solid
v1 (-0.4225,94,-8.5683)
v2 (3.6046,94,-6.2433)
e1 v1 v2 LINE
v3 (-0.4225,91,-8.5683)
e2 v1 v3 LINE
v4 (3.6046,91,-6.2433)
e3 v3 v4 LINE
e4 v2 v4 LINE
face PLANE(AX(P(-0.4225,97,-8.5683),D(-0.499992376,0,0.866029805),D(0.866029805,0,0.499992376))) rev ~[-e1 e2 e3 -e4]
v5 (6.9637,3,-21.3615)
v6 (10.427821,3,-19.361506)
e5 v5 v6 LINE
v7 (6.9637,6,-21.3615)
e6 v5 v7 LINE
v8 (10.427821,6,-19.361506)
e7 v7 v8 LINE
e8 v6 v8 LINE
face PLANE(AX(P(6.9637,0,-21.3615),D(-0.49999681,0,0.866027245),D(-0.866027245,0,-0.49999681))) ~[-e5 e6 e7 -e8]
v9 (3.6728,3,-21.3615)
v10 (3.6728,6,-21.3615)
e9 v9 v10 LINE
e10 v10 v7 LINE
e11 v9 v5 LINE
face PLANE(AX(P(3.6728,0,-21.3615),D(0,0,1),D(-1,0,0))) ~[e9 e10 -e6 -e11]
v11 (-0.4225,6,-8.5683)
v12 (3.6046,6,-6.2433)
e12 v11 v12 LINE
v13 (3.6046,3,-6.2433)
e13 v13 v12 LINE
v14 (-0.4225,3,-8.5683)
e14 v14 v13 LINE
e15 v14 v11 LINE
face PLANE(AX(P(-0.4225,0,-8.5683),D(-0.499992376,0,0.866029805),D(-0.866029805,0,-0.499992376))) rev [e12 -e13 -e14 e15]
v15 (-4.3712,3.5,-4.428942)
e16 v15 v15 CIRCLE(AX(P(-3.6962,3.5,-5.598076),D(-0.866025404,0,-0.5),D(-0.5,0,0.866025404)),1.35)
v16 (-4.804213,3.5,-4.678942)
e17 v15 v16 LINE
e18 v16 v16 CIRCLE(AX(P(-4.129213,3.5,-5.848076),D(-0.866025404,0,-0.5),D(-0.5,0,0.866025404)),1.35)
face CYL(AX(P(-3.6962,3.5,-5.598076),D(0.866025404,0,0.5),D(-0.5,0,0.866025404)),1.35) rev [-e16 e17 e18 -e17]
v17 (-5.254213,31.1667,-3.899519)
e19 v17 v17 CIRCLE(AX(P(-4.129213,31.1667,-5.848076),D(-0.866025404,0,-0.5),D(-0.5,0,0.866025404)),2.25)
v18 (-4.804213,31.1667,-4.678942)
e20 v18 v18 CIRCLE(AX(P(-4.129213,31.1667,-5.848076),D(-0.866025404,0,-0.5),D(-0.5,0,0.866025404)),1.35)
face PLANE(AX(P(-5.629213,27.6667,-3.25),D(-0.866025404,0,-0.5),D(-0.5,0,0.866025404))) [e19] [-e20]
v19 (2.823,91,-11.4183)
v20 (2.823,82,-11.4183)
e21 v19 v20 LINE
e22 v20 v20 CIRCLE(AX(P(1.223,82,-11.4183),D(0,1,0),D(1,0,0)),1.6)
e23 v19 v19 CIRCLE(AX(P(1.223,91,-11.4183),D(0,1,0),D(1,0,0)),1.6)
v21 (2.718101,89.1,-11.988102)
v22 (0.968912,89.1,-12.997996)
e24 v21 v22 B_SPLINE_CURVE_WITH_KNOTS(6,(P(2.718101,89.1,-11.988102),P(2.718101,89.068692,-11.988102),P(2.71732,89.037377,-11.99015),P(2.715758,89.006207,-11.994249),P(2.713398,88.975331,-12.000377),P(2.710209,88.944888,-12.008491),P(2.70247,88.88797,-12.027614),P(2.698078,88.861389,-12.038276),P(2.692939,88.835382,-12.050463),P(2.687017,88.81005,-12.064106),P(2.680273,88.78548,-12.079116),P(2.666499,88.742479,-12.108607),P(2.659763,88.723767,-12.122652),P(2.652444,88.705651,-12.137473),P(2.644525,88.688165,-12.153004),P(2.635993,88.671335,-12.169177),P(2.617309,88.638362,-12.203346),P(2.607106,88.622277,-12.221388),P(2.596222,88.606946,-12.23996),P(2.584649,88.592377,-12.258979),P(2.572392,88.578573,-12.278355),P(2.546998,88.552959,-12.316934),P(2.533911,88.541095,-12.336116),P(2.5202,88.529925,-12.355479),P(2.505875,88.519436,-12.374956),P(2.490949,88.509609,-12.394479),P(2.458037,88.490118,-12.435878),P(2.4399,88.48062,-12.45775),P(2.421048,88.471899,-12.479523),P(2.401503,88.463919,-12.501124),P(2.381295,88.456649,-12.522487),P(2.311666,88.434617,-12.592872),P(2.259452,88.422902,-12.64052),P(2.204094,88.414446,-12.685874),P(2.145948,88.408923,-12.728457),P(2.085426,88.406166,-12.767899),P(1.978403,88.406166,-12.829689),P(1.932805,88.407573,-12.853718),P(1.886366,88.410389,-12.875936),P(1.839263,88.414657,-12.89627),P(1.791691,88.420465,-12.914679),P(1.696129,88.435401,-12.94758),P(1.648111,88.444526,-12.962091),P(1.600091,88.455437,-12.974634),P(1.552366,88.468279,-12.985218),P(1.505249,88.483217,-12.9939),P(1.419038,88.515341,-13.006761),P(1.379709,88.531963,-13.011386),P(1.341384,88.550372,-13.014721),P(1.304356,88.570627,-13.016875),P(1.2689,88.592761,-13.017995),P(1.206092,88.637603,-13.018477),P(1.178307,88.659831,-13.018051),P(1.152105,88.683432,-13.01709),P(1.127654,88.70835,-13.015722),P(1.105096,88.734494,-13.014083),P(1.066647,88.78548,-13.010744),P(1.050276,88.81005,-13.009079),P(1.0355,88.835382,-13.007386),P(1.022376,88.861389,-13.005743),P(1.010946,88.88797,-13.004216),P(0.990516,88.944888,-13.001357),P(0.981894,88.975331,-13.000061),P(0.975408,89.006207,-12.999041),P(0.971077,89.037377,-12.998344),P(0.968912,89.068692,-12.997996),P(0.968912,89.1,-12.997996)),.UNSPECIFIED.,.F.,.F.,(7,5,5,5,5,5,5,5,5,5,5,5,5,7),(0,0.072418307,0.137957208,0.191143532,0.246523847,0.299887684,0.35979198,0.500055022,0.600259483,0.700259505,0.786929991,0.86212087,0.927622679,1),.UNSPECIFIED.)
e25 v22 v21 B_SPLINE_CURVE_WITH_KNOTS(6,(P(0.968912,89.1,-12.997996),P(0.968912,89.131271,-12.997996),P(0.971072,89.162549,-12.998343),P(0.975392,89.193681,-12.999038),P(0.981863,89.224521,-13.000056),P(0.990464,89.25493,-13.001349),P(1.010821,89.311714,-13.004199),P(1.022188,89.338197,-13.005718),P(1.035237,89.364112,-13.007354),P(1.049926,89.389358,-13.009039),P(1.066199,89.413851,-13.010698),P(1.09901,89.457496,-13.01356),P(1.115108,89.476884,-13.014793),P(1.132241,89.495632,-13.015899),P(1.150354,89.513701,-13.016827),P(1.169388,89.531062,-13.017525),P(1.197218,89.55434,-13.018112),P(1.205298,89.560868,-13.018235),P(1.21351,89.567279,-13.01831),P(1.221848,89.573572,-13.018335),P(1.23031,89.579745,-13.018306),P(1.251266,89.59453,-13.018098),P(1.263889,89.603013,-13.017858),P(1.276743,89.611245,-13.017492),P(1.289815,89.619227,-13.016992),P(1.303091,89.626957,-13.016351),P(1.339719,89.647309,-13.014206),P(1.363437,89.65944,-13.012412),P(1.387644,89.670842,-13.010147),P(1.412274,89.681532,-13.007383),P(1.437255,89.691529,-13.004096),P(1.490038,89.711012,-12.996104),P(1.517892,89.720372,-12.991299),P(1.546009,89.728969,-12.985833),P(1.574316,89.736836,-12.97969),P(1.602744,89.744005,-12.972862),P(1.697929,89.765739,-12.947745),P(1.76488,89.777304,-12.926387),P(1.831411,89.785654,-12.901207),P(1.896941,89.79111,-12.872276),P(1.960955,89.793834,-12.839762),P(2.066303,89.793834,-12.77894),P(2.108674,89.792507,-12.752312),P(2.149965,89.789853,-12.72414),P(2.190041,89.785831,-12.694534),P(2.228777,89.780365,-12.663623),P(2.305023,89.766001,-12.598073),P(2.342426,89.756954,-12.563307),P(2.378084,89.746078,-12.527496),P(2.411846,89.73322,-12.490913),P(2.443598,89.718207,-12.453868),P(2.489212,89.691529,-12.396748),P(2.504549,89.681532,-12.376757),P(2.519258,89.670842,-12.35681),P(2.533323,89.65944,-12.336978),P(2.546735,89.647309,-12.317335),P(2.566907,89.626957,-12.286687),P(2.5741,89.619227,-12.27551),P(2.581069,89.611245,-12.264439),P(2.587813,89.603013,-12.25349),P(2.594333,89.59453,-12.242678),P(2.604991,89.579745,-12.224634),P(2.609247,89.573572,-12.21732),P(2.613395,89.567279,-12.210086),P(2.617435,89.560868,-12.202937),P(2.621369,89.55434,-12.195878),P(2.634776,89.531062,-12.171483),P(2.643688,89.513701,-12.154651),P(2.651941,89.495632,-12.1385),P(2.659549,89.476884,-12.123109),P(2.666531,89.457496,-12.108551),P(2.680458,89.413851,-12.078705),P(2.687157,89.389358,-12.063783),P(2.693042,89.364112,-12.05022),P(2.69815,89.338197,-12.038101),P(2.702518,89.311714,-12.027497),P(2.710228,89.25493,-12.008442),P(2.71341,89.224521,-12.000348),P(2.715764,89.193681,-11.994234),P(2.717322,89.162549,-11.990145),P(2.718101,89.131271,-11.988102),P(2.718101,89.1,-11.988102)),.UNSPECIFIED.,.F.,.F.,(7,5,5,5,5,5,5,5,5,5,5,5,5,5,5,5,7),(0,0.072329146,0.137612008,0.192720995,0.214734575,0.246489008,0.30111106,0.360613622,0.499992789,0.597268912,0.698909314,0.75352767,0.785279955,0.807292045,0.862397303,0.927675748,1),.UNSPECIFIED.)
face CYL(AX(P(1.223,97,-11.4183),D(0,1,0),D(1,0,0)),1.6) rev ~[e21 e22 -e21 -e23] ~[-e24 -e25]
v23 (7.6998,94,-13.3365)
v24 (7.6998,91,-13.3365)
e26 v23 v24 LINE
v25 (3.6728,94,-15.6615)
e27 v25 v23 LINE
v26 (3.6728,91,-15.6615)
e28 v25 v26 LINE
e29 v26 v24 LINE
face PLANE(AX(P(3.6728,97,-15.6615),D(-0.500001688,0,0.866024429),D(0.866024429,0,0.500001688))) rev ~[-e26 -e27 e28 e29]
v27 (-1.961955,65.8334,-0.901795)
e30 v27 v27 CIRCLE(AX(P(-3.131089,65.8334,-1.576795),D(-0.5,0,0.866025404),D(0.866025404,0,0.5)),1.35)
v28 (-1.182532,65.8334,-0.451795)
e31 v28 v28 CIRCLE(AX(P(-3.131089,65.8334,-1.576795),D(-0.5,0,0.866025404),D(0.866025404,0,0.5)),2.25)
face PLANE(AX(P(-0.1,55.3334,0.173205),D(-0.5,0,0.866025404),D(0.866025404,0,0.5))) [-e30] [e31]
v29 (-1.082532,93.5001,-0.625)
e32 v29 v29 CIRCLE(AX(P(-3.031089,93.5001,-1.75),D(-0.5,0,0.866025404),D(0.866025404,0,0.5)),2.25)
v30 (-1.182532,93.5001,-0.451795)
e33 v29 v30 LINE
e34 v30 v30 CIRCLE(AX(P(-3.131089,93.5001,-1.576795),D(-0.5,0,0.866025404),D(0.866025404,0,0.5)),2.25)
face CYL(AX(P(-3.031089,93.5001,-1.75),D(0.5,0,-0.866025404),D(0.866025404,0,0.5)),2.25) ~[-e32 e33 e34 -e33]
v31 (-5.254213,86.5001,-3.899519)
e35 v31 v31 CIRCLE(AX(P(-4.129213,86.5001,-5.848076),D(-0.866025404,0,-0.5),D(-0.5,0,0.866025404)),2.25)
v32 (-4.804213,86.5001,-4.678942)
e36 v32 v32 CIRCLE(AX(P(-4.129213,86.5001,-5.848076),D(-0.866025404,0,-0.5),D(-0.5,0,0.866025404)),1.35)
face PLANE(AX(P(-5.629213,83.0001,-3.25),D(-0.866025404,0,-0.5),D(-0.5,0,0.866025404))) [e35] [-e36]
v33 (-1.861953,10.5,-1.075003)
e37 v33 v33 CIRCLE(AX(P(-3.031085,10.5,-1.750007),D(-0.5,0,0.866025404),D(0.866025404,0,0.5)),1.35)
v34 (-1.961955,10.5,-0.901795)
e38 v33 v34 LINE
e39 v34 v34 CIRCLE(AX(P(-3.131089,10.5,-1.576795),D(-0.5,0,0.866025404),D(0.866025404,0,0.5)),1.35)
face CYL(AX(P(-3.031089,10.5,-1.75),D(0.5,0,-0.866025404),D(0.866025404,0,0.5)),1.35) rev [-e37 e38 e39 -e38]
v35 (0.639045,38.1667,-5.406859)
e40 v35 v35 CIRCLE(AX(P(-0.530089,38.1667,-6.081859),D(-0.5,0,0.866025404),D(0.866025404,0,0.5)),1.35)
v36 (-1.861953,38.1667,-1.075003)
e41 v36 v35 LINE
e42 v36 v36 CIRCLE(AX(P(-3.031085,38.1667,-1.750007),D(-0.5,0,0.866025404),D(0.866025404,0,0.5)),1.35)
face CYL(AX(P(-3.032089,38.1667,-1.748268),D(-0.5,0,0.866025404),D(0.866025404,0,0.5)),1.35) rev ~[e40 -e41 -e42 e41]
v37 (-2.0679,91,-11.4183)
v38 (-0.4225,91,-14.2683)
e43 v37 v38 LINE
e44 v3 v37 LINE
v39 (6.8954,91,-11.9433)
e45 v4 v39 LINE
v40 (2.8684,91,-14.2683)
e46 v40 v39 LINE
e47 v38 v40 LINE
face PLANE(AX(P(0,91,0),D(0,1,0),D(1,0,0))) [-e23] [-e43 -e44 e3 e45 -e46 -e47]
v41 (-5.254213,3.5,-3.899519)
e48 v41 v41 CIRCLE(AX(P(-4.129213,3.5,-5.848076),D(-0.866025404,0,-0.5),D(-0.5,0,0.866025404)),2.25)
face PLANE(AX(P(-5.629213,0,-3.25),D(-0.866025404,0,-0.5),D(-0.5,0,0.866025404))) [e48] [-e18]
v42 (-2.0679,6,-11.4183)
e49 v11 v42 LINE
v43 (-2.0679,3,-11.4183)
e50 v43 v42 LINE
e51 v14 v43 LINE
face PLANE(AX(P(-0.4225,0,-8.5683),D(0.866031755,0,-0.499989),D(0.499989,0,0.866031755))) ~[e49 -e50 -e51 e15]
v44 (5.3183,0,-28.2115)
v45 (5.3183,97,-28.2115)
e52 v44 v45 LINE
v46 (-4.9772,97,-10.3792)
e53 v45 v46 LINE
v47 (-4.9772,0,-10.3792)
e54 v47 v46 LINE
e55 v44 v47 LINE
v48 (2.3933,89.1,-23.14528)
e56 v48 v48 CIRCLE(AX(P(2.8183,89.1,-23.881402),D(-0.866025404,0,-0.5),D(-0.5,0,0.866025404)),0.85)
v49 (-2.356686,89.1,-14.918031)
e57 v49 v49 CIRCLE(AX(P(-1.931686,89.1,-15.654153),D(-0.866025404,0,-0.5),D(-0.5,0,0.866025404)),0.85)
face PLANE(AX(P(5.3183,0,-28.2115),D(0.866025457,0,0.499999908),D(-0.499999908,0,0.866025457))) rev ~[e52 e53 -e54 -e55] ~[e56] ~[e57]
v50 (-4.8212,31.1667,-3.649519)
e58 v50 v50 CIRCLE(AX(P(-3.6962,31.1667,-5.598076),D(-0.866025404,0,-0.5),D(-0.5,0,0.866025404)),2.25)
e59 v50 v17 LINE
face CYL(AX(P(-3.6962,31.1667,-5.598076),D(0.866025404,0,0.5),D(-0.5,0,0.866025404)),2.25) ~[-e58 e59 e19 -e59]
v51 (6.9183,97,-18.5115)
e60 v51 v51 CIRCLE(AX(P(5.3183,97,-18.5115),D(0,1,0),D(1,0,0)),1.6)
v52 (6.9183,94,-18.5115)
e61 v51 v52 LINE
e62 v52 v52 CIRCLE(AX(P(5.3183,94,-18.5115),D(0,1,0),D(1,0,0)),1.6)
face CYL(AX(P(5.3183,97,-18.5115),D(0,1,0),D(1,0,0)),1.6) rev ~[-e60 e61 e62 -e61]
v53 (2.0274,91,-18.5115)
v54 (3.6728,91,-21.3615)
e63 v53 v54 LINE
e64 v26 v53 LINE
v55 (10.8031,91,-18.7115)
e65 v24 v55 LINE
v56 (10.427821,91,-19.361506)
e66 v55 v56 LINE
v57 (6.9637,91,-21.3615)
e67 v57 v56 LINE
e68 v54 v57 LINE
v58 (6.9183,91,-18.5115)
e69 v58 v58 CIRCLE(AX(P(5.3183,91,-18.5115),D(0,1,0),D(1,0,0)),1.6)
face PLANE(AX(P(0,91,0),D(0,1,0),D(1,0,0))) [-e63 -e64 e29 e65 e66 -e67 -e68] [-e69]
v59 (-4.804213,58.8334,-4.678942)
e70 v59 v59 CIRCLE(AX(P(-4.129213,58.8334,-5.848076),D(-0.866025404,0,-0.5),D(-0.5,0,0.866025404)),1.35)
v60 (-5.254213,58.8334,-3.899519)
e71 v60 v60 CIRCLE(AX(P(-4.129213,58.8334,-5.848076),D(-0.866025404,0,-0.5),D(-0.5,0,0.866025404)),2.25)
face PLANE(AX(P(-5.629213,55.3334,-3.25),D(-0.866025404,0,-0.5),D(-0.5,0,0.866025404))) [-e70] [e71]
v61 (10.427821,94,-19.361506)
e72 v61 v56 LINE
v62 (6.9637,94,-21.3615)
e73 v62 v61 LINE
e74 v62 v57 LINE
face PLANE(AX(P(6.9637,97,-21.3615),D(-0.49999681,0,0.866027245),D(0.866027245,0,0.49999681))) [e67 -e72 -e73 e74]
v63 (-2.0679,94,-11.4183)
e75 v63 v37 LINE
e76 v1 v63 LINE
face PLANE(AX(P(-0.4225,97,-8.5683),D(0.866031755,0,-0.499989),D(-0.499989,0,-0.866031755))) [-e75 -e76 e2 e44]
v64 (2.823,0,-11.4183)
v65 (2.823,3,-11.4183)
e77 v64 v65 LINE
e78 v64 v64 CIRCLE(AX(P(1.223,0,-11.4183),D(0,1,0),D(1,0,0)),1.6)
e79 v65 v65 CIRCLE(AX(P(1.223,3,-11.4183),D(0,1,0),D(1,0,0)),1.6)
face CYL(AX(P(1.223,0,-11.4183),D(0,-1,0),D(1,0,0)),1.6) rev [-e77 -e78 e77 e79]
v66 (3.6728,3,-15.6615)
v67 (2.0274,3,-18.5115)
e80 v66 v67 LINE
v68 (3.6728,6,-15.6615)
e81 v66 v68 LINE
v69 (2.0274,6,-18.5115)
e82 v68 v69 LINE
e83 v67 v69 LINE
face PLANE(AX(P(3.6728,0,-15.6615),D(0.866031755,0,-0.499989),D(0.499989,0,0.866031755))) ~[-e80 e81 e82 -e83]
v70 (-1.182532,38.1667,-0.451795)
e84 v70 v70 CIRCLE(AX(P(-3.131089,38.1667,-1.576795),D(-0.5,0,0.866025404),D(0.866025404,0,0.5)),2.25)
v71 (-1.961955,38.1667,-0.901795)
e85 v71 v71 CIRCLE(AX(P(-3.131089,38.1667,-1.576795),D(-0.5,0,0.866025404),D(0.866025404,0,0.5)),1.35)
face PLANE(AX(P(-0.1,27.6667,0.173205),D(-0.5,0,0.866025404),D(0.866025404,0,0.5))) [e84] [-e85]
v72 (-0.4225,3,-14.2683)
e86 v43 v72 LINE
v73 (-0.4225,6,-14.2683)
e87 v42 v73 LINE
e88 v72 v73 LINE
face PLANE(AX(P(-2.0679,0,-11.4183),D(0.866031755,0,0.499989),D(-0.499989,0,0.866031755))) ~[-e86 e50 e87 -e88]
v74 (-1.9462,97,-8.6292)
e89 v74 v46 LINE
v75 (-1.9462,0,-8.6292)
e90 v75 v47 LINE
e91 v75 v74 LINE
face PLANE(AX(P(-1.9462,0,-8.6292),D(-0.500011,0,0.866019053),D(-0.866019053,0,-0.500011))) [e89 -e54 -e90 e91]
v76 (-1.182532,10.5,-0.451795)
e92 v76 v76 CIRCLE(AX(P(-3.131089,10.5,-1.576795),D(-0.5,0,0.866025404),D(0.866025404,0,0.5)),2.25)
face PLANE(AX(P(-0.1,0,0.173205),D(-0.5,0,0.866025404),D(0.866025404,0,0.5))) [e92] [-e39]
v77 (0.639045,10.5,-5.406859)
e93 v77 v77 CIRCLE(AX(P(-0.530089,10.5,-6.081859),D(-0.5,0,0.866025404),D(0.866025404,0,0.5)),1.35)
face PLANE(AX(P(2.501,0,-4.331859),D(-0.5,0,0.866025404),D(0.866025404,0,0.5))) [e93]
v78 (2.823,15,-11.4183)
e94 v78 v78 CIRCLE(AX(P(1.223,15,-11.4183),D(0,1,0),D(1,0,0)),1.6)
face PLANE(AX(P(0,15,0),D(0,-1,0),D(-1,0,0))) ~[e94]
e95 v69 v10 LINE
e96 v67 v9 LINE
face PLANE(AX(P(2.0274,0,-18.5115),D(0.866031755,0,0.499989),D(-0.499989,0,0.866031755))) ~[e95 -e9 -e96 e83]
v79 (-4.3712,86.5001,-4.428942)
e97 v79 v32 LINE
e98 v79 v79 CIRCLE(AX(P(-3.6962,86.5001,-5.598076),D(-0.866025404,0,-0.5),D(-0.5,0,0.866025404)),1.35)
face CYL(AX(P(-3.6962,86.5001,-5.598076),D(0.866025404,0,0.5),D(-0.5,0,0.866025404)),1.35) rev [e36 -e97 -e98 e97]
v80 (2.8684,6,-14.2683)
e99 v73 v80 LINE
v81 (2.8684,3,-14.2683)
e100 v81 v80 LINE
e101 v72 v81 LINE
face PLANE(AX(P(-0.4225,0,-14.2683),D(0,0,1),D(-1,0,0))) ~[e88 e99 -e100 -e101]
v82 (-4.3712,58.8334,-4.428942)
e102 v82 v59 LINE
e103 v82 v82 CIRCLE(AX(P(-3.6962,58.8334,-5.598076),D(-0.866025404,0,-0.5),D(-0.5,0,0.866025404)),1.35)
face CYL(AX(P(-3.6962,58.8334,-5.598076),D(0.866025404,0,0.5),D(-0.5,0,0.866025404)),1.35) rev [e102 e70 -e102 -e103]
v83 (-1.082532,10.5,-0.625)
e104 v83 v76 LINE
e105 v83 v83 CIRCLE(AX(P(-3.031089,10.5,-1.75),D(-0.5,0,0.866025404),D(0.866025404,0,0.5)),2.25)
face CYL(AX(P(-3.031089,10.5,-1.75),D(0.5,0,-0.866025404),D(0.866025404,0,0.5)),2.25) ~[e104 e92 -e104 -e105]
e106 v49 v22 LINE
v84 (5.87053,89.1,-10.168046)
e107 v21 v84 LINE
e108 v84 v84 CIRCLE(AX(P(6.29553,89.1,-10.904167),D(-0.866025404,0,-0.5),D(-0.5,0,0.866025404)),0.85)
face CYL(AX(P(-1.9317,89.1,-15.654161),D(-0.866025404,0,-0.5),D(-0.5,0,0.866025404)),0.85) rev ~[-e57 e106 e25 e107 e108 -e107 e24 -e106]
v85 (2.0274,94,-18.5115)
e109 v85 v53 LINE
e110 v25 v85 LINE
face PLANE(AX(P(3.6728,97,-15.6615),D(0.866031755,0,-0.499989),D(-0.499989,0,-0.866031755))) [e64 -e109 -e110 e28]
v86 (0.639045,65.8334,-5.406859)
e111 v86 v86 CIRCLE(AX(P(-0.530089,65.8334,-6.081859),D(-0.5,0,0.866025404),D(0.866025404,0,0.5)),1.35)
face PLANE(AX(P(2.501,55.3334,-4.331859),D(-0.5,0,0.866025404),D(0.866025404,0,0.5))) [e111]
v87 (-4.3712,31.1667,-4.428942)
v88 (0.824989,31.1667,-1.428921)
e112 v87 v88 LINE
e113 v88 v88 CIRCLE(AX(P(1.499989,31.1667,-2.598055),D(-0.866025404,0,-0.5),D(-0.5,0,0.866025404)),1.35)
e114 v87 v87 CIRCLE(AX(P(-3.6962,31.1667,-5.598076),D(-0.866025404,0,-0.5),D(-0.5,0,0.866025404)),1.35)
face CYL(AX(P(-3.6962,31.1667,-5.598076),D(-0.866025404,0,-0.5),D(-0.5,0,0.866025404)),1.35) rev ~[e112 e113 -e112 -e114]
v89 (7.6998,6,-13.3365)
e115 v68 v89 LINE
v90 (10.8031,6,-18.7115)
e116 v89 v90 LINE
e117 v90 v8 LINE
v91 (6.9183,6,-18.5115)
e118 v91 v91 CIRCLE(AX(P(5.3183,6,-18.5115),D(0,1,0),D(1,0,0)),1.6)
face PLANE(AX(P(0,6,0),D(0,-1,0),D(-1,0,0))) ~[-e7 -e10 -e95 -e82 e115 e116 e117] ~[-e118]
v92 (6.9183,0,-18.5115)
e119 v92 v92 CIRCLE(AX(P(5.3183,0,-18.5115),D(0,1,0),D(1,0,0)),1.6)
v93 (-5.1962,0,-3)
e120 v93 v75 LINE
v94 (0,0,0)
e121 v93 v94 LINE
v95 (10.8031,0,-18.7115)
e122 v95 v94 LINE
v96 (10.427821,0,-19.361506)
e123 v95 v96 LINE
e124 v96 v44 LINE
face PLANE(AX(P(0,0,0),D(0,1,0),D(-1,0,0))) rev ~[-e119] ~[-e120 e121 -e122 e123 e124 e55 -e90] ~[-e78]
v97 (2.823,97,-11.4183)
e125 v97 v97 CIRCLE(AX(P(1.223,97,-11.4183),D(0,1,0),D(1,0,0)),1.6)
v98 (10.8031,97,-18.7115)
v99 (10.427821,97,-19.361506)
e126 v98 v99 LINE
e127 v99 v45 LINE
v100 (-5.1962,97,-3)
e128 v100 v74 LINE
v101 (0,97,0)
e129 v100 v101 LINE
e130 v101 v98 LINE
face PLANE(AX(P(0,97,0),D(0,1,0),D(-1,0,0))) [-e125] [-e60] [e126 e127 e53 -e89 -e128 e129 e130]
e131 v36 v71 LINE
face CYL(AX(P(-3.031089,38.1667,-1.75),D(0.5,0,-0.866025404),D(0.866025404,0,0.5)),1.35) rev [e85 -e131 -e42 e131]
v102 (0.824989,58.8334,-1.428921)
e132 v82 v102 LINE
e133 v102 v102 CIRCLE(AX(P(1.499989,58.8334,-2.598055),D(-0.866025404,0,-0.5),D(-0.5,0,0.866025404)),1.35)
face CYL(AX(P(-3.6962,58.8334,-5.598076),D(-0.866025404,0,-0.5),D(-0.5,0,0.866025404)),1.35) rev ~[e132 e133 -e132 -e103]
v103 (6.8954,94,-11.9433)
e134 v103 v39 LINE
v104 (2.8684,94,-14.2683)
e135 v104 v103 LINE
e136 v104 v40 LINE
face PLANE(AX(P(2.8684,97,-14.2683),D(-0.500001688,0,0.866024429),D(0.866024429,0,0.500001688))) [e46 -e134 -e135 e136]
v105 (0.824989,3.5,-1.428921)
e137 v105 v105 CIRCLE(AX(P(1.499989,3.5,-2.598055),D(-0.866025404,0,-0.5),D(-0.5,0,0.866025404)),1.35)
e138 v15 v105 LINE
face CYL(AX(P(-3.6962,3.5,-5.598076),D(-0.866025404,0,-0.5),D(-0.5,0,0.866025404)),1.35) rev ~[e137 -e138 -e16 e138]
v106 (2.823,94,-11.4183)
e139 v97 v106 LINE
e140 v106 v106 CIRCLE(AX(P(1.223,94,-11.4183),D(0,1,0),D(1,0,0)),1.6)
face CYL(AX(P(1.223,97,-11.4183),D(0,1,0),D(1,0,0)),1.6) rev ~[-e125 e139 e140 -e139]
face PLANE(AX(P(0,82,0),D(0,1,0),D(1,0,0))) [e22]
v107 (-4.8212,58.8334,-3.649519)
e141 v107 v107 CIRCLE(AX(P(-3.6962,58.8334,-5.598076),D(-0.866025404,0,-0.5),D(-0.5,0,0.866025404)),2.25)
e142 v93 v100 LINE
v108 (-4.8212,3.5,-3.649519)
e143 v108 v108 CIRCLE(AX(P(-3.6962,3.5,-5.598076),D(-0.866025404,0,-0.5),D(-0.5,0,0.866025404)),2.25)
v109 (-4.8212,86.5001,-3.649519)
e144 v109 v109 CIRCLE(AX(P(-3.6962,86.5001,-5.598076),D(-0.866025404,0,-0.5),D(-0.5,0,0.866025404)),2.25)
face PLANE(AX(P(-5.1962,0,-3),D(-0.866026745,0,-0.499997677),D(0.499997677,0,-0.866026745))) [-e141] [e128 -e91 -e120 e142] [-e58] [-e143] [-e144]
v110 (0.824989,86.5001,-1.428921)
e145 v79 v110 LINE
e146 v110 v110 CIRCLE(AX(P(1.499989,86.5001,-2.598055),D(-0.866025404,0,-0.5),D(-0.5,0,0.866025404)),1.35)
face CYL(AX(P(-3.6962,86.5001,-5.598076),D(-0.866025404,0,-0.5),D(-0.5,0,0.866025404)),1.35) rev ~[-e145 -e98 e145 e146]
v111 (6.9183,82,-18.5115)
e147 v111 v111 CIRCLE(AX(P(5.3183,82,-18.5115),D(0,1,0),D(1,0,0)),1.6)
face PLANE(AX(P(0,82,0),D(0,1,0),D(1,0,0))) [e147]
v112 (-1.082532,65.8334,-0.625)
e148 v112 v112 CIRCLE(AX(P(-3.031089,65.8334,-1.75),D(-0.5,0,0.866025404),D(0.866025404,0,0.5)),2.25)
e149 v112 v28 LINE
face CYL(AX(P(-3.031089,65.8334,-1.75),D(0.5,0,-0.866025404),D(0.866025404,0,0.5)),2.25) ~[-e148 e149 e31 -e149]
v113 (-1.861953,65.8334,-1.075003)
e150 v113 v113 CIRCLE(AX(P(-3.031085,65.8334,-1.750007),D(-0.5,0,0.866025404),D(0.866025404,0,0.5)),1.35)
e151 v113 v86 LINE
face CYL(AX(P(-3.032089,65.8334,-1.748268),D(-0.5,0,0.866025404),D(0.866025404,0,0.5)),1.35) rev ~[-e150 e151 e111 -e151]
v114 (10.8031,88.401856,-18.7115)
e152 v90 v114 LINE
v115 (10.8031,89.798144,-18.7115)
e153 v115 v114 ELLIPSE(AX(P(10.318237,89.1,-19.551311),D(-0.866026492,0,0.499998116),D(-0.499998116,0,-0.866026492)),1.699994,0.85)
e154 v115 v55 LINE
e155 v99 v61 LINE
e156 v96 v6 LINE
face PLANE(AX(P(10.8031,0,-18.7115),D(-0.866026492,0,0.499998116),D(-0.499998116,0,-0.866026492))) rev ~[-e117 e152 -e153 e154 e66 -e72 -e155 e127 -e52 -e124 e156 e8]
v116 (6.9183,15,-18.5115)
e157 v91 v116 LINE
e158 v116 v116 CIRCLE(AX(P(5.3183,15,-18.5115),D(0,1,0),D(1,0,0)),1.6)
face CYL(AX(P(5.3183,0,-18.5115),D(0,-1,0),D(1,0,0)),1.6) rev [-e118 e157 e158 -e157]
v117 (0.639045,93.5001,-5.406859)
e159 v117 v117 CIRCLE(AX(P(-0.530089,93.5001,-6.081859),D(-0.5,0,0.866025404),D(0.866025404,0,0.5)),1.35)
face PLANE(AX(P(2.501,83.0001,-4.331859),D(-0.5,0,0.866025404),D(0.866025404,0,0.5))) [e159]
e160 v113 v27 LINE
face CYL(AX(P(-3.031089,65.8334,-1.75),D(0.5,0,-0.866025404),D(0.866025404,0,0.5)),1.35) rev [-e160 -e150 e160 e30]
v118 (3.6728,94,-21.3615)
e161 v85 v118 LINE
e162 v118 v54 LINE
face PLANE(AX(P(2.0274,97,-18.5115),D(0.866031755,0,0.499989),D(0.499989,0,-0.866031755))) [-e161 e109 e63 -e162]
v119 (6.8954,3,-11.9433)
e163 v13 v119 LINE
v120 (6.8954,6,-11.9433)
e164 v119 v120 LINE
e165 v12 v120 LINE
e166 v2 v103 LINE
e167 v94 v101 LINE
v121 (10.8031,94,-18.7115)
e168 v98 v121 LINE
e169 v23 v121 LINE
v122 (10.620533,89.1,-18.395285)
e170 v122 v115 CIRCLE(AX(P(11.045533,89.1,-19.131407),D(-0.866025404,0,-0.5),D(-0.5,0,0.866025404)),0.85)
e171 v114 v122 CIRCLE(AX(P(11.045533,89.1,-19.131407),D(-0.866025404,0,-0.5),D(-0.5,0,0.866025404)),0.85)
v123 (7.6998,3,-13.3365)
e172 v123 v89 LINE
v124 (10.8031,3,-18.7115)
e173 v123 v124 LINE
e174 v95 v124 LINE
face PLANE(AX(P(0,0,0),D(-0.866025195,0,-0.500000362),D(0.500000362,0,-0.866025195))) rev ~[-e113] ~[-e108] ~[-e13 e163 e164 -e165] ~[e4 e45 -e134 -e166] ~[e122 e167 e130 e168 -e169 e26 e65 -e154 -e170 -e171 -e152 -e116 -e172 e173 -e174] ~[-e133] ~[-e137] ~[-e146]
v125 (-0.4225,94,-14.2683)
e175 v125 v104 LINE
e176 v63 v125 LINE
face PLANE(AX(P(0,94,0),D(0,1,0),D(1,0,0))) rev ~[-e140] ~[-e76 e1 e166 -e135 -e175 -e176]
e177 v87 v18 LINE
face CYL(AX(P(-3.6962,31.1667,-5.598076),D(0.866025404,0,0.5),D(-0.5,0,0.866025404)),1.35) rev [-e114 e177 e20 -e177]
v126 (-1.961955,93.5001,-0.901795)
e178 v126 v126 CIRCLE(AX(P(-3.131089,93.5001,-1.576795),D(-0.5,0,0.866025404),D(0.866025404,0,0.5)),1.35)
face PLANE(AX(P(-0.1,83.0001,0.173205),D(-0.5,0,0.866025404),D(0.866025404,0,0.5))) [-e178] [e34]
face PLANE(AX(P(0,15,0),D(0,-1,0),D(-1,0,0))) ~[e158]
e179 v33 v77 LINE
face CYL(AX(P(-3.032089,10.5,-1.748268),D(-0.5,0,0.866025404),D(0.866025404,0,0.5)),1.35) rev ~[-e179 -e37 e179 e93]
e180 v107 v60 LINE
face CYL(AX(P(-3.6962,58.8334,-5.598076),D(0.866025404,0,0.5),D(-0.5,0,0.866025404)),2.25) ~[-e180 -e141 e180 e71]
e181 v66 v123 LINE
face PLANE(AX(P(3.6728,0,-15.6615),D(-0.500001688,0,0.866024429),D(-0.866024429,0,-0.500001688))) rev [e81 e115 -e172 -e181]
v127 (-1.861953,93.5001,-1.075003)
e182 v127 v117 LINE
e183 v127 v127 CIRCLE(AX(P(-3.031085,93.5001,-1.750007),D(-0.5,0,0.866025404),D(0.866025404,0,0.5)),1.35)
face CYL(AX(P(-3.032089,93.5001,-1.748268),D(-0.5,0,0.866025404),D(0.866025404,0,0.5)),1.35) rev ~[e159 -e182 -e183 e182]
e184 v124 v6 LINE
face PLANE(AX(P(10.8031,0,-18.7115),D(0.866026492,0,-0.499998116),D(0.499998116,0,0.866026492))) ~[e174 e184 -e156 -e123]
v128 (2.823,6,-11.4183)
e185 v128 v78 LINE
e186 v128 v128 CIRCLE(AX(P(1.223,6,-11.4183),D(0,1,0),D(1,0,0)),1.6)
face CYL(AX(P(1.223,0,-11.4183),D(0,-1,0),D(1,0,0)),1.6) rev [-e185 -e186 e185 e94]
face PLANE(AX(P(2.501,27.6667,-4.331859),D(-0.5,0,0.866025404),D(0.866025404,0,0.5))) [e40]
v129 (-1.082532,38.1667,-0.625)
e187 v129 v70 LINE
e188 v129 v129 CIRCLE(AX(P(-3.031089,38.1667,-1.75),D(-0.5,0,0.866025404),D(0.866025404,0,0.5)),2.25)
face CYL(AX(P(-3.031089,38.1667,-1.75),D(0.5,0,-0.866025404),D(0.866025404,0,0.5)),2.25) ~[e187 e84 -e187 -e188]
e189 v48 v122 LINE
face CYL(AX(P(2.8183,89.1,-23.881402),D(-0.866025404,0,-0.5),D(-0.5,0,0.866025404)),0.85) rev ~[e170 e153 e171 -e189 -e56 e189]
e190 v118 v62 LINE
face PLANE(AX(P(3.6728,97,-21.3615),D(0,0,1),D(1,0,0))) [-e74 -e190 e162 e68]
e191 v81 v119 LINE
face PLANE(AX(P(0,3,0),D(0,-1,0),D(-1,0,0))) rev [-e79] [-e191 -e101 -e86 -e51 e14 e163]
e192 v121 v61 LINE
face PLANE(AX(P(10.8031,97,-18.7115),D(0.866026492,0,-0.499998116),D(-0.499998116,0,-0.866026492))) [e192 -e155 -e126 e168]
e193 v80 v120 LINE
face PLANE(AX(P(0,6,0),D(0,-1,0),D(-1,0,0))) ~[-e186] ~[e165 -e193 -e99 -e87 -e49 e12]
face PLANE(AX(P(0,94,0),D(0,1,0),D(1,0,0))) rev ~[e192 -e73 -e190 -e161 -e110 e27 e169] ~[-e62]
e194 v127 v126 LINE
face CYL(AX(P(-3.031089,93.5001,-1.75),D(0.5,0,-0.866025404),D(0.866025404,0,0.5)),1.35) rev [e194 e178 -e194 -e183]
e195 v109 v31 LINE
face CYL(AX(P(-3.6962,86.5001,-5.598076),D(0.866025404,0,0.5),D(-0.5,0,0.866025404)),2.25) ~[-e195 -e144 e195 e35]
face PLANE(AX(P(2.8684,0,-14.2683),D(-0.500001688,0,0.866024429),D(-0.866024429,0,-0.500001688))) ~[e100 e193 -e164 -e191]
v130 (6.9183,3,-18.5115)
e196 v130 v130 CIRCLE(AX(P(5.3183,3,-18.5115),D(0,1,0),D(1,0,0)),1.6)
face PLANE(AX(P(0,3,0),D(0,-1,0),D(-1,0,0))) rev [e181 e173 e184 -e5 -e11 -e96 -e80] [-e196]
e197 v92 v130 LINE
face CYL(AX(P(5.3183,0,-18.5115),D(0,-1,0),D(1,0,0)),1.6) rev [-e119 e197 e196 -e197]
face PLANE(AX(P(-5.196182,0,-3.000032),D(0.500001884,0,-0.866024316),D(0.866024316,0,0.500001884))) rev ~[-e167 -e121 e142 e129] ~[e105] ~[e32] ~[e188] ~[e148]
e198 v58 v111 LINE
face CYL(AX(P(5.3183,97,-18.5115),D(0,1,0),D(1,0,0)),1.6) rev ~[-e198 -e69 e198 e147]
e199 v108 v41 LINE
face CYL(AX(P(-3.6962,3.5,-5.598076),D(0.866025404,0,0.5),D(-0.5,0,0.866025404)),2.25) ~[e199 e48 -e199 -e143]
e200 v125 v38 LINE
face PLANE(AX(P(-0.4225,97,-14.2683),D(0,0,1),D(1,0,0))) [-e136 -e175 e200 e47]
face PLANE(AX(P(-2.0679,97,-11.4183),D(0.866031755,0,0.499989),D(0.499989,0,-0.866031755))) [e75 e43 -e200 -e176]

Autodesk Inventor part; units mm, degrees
ref_plane "YZ Plane" through (0, 0, 0) normal (1, 0, 0) x (0, 1, 0)
ref_plane "XZ Plane" through (0, 0, 0) normal (0, 1, 0) x (-1, 0, 0)
sketch "スケッチ1" plane through (0, 0, 0) normal (0, 1, 0) x (-1, 0, 0)
  line L0 (8.2272, -4.75) -> (0, 0)
  line L1 (0, 0) -> (-10.8031, -18.7115)
  line L2 (-10.8031, -18.7115) -> (-5.3183, -28.2115)
  line L3 (-5.3183, -28.2115) -> (8.2272, -4.75)
  line L4 (31.5369, 0) -> (-17.8598, 0) projected
  line L5 (0, 0) -> (19.1969, 33.25)
  line L6 (19.1969, 33.25) -> (24.4803, 30.1996) construction
  line L7 (5.1962, -3) -> (1.9462, -8.6292)
  line L8 (1.9462, -8.6292) -> (4.9772, -10.3792)
  dimension "d0" = 9.5
  dimension "d2" = 60
  dimension "d3" = 60
  dimension "d4" = 60
  dimension "d8" = 38
  dimension "d9" = 3.5
  dimension "d10" = 6.5
extrude "押し出し1" add sketch "スケッチ1" along normal blind 97 contours L7 L8 L3 L2 L1 L0
sketch "スケッチ2" plane through (-5.1962, 0, -3) normal (-0.866, 0, -0.5) x (-0.5, 0, 0.866)
  circle A0 centre (-3, 3.5) radius 3
  line L0 (-6.5, 0) -> (0, 0) projected
  line L1 (0, 0) -> (0, 97) projected
  circle A1 centre (-3, 3.5) radius 1.35
  dimension "d12" = 6
  dimension "d13" = 3.5
  dimension "d14" = 2.7
extrude "押し出し2" cut sketch "スケッチ2" against normal through all contours A1
sketch "スケッチ3" plane through (-5.1962, 0, -3) normal (-0.866, 0, -0.5) x (-0.5, 0, 0.866)
  circle A0 centre (-3, 3.5) radius 1.35 projected
  circle A1 centre (-3, 3.5) radius 2.25
  point P0 (0, 0)
  dimension "d17" = 4.5
extrude "押し出し3" add sketch "スケッチ3" along normal blind 0.5
sketch "スケッチ4" plane through (0, 0, 0) normal (-0.5, 0, 0.866) x (0.866, 0, 0.5)
  circle A0 centre (-3.5, 10.5) radius 3
  line L0 (-6, 0) -> (-6, 97) projected
  line L1 (-6, 7) -> (0, 7)
  line L2 (-6, 0) -> (0, 0) projected
  line L3 (-9.5, 0) -> (-6, 0) projected
  line L4 (-6.5, 0) -> (-6.5, 11.2829)
  circle A1 centre (-3.5, 10.5) radius 1.35
  dimension "d20" = 6
  dimension "d21" = 7
  dimension "d22" = 3.5
  dimension "d23" = 0.5
  dimension "d24" = 2.7
extrude "押し出し4" cut sketch "スケッチ4" against normal blind 5 contours A1
sketch "スケッチ5" plane through (0, 0, 0) normal (-0.5, 0, 0.866) x (0.866, 0, 0.5)
  circle A0 centre (-3.5, 10.5) radius 1.35 projected
  circle A1 centre (-3.5, 10.5) radius 2.25
  point P0 (0, 0)
  dimension "d27" = 4.5
extrude "押し出し5" add sketch "スケッチ5" along normal blind 0.2
pattern_linear "矩形状パターン1" count 4 spacing 27.6667 along (0, 1, 0) of "押し出し2", "押し出し3", "押し出し4", "押し出し5"
sketch "スケッチ6" plane through (-4.9772, 0, -10.3792) normal (-0.866, 0, -0.5) x (-0.5, 0, 0.866)
  line L0 (-20.591, 0) -> (-20.591, 97) projected
  line L1 (-20.591, 96) -> (-1.091, 96)
  line L2 (-1.091, 96) -> (-1.091, 81.4)
  line L3 (-1.091, 81.4) -> (-20.591, 81.4)
  line L4 (-20.591, 81.4) -> (-20.591, 96)
  line L5 (-20.591, 97) -> (0, 97) projected
  line L6 (-20.591, 96) -> (-1.091, 96)
  line L7 (-1.091, 96) -> (-1.091, 97)
  line L8 (-1.091, 97) -> (-20.591, 97)
  line L9 (-20.591, 97) -> (-20.591, 96)
  circle A0 centre (-15.591, 89.1) radius 0.85
  circle A1 centre (-6.091, 89.1) radius 0.85
  line L10 (-10.841, 81.4) -> (-10.841, 96)
  point P0 (6.5, 0)
  point P1 (-1.091, 96)
  dimension "d33" = 19.5
  dimension "d34" = 14.6
  dimension "d35" = 1
  dimension "d36" = 1.7
  dimension "d37" = 6.9
  dimension "d38" = 9.5
extrude "押し出し6" cut sketch "スケッチ6" against normal through all contours A0 | A1
sketch "スケッチ8" plane through (0, 97, 0) normal (0, 1, 0) x (1, 0, 0)
  line L0 (4.5139, 11.4183) -> (2.8684, 8.5683)
  line L1 (2.8684, 8.5683) -> (-0.4225, 8.5683)
  line L2 (-0.4225, 8.5683) -> (-2.0679, 11.4183)
  line L3 (-2.0679, 11.4183) -> (-0.4225, 14.2683)
  line L4 (-0.4225, 14.2683) -> (2.8684, 14.2683)
  line L5 (2.8684, 14.2683) -> (4.5139, 11.4183)
  line L6 (6.9637, 15.6615) -> (3.6728, 15.6615)
  line L7 (3.6728, 15.6615) -> (2.0274, 18.5115)
  line L8 (2.0274, 18.5115) -> (3.6728, 21.3615)
  line L9 (3.6728, 21.3615) -> (6.9637, 21.3615)
  line L10 (6.9637, 21.3615) -> (8.6092, 18.5115)
  line L11 (8.6092, 18.5115) -> (6.9637, 15.6615)
  line L12 (5.3183, 28.2115) -> (-4.9772, 10.3792) projected
  line L13 (10.8031, 18.7115) -> (5.3183, 28.2115) projected
  line L14 (-4.9772, 10.3792) -> (-1.9462, 8.6292) projected
  line L15 (-0.4225, 8.5683) -> (3.6046, 6.2433)
  line L16 (0, 0) -> (10.8031, 18.7115) projected
  line L17 (2.8684, 14.2683) -> (6.8954, 11.9433)
  line L18 (3.6728, 15.6615) -> (7.6998, 13.3365)
  line L19 (6.9637, 21.3615) -> (11.0441, 19.0057)
  circle A0 centre (1.223, 11.4183) radius 1.6
  circle A1 centre (5.3183, 18.5115) radius 1.6
  point P0 (10.4278, 19.3615)
  dimension "d47" = 5.7
  dimension "d48" = 2
  dimension "d49" = 2
  dimension "d50" = 4
  dimension "d51" = 3.2
  dimension "d52" = 3.2
extrude "押し出し8" cut sketch "スケッチ8" against normal blind 15 contours A0 | A1
extrude "押し出し9" cut sketch "スケッチ8" against normal blind 6
extrude "押し出し10" add sketch "スケッチ8" against normal blind 3
ref_plane "作業平面1" through (0, 48.5, 0) normal (0, 1, 0) x (1, 0, 0)
mirror "ミラー1" about plane through (0, 48.5, 0) normal (0, 1, 0) of "押し出し8", "押し出し9", "押し出し10"
properties part number "base_bearingpole_side"
